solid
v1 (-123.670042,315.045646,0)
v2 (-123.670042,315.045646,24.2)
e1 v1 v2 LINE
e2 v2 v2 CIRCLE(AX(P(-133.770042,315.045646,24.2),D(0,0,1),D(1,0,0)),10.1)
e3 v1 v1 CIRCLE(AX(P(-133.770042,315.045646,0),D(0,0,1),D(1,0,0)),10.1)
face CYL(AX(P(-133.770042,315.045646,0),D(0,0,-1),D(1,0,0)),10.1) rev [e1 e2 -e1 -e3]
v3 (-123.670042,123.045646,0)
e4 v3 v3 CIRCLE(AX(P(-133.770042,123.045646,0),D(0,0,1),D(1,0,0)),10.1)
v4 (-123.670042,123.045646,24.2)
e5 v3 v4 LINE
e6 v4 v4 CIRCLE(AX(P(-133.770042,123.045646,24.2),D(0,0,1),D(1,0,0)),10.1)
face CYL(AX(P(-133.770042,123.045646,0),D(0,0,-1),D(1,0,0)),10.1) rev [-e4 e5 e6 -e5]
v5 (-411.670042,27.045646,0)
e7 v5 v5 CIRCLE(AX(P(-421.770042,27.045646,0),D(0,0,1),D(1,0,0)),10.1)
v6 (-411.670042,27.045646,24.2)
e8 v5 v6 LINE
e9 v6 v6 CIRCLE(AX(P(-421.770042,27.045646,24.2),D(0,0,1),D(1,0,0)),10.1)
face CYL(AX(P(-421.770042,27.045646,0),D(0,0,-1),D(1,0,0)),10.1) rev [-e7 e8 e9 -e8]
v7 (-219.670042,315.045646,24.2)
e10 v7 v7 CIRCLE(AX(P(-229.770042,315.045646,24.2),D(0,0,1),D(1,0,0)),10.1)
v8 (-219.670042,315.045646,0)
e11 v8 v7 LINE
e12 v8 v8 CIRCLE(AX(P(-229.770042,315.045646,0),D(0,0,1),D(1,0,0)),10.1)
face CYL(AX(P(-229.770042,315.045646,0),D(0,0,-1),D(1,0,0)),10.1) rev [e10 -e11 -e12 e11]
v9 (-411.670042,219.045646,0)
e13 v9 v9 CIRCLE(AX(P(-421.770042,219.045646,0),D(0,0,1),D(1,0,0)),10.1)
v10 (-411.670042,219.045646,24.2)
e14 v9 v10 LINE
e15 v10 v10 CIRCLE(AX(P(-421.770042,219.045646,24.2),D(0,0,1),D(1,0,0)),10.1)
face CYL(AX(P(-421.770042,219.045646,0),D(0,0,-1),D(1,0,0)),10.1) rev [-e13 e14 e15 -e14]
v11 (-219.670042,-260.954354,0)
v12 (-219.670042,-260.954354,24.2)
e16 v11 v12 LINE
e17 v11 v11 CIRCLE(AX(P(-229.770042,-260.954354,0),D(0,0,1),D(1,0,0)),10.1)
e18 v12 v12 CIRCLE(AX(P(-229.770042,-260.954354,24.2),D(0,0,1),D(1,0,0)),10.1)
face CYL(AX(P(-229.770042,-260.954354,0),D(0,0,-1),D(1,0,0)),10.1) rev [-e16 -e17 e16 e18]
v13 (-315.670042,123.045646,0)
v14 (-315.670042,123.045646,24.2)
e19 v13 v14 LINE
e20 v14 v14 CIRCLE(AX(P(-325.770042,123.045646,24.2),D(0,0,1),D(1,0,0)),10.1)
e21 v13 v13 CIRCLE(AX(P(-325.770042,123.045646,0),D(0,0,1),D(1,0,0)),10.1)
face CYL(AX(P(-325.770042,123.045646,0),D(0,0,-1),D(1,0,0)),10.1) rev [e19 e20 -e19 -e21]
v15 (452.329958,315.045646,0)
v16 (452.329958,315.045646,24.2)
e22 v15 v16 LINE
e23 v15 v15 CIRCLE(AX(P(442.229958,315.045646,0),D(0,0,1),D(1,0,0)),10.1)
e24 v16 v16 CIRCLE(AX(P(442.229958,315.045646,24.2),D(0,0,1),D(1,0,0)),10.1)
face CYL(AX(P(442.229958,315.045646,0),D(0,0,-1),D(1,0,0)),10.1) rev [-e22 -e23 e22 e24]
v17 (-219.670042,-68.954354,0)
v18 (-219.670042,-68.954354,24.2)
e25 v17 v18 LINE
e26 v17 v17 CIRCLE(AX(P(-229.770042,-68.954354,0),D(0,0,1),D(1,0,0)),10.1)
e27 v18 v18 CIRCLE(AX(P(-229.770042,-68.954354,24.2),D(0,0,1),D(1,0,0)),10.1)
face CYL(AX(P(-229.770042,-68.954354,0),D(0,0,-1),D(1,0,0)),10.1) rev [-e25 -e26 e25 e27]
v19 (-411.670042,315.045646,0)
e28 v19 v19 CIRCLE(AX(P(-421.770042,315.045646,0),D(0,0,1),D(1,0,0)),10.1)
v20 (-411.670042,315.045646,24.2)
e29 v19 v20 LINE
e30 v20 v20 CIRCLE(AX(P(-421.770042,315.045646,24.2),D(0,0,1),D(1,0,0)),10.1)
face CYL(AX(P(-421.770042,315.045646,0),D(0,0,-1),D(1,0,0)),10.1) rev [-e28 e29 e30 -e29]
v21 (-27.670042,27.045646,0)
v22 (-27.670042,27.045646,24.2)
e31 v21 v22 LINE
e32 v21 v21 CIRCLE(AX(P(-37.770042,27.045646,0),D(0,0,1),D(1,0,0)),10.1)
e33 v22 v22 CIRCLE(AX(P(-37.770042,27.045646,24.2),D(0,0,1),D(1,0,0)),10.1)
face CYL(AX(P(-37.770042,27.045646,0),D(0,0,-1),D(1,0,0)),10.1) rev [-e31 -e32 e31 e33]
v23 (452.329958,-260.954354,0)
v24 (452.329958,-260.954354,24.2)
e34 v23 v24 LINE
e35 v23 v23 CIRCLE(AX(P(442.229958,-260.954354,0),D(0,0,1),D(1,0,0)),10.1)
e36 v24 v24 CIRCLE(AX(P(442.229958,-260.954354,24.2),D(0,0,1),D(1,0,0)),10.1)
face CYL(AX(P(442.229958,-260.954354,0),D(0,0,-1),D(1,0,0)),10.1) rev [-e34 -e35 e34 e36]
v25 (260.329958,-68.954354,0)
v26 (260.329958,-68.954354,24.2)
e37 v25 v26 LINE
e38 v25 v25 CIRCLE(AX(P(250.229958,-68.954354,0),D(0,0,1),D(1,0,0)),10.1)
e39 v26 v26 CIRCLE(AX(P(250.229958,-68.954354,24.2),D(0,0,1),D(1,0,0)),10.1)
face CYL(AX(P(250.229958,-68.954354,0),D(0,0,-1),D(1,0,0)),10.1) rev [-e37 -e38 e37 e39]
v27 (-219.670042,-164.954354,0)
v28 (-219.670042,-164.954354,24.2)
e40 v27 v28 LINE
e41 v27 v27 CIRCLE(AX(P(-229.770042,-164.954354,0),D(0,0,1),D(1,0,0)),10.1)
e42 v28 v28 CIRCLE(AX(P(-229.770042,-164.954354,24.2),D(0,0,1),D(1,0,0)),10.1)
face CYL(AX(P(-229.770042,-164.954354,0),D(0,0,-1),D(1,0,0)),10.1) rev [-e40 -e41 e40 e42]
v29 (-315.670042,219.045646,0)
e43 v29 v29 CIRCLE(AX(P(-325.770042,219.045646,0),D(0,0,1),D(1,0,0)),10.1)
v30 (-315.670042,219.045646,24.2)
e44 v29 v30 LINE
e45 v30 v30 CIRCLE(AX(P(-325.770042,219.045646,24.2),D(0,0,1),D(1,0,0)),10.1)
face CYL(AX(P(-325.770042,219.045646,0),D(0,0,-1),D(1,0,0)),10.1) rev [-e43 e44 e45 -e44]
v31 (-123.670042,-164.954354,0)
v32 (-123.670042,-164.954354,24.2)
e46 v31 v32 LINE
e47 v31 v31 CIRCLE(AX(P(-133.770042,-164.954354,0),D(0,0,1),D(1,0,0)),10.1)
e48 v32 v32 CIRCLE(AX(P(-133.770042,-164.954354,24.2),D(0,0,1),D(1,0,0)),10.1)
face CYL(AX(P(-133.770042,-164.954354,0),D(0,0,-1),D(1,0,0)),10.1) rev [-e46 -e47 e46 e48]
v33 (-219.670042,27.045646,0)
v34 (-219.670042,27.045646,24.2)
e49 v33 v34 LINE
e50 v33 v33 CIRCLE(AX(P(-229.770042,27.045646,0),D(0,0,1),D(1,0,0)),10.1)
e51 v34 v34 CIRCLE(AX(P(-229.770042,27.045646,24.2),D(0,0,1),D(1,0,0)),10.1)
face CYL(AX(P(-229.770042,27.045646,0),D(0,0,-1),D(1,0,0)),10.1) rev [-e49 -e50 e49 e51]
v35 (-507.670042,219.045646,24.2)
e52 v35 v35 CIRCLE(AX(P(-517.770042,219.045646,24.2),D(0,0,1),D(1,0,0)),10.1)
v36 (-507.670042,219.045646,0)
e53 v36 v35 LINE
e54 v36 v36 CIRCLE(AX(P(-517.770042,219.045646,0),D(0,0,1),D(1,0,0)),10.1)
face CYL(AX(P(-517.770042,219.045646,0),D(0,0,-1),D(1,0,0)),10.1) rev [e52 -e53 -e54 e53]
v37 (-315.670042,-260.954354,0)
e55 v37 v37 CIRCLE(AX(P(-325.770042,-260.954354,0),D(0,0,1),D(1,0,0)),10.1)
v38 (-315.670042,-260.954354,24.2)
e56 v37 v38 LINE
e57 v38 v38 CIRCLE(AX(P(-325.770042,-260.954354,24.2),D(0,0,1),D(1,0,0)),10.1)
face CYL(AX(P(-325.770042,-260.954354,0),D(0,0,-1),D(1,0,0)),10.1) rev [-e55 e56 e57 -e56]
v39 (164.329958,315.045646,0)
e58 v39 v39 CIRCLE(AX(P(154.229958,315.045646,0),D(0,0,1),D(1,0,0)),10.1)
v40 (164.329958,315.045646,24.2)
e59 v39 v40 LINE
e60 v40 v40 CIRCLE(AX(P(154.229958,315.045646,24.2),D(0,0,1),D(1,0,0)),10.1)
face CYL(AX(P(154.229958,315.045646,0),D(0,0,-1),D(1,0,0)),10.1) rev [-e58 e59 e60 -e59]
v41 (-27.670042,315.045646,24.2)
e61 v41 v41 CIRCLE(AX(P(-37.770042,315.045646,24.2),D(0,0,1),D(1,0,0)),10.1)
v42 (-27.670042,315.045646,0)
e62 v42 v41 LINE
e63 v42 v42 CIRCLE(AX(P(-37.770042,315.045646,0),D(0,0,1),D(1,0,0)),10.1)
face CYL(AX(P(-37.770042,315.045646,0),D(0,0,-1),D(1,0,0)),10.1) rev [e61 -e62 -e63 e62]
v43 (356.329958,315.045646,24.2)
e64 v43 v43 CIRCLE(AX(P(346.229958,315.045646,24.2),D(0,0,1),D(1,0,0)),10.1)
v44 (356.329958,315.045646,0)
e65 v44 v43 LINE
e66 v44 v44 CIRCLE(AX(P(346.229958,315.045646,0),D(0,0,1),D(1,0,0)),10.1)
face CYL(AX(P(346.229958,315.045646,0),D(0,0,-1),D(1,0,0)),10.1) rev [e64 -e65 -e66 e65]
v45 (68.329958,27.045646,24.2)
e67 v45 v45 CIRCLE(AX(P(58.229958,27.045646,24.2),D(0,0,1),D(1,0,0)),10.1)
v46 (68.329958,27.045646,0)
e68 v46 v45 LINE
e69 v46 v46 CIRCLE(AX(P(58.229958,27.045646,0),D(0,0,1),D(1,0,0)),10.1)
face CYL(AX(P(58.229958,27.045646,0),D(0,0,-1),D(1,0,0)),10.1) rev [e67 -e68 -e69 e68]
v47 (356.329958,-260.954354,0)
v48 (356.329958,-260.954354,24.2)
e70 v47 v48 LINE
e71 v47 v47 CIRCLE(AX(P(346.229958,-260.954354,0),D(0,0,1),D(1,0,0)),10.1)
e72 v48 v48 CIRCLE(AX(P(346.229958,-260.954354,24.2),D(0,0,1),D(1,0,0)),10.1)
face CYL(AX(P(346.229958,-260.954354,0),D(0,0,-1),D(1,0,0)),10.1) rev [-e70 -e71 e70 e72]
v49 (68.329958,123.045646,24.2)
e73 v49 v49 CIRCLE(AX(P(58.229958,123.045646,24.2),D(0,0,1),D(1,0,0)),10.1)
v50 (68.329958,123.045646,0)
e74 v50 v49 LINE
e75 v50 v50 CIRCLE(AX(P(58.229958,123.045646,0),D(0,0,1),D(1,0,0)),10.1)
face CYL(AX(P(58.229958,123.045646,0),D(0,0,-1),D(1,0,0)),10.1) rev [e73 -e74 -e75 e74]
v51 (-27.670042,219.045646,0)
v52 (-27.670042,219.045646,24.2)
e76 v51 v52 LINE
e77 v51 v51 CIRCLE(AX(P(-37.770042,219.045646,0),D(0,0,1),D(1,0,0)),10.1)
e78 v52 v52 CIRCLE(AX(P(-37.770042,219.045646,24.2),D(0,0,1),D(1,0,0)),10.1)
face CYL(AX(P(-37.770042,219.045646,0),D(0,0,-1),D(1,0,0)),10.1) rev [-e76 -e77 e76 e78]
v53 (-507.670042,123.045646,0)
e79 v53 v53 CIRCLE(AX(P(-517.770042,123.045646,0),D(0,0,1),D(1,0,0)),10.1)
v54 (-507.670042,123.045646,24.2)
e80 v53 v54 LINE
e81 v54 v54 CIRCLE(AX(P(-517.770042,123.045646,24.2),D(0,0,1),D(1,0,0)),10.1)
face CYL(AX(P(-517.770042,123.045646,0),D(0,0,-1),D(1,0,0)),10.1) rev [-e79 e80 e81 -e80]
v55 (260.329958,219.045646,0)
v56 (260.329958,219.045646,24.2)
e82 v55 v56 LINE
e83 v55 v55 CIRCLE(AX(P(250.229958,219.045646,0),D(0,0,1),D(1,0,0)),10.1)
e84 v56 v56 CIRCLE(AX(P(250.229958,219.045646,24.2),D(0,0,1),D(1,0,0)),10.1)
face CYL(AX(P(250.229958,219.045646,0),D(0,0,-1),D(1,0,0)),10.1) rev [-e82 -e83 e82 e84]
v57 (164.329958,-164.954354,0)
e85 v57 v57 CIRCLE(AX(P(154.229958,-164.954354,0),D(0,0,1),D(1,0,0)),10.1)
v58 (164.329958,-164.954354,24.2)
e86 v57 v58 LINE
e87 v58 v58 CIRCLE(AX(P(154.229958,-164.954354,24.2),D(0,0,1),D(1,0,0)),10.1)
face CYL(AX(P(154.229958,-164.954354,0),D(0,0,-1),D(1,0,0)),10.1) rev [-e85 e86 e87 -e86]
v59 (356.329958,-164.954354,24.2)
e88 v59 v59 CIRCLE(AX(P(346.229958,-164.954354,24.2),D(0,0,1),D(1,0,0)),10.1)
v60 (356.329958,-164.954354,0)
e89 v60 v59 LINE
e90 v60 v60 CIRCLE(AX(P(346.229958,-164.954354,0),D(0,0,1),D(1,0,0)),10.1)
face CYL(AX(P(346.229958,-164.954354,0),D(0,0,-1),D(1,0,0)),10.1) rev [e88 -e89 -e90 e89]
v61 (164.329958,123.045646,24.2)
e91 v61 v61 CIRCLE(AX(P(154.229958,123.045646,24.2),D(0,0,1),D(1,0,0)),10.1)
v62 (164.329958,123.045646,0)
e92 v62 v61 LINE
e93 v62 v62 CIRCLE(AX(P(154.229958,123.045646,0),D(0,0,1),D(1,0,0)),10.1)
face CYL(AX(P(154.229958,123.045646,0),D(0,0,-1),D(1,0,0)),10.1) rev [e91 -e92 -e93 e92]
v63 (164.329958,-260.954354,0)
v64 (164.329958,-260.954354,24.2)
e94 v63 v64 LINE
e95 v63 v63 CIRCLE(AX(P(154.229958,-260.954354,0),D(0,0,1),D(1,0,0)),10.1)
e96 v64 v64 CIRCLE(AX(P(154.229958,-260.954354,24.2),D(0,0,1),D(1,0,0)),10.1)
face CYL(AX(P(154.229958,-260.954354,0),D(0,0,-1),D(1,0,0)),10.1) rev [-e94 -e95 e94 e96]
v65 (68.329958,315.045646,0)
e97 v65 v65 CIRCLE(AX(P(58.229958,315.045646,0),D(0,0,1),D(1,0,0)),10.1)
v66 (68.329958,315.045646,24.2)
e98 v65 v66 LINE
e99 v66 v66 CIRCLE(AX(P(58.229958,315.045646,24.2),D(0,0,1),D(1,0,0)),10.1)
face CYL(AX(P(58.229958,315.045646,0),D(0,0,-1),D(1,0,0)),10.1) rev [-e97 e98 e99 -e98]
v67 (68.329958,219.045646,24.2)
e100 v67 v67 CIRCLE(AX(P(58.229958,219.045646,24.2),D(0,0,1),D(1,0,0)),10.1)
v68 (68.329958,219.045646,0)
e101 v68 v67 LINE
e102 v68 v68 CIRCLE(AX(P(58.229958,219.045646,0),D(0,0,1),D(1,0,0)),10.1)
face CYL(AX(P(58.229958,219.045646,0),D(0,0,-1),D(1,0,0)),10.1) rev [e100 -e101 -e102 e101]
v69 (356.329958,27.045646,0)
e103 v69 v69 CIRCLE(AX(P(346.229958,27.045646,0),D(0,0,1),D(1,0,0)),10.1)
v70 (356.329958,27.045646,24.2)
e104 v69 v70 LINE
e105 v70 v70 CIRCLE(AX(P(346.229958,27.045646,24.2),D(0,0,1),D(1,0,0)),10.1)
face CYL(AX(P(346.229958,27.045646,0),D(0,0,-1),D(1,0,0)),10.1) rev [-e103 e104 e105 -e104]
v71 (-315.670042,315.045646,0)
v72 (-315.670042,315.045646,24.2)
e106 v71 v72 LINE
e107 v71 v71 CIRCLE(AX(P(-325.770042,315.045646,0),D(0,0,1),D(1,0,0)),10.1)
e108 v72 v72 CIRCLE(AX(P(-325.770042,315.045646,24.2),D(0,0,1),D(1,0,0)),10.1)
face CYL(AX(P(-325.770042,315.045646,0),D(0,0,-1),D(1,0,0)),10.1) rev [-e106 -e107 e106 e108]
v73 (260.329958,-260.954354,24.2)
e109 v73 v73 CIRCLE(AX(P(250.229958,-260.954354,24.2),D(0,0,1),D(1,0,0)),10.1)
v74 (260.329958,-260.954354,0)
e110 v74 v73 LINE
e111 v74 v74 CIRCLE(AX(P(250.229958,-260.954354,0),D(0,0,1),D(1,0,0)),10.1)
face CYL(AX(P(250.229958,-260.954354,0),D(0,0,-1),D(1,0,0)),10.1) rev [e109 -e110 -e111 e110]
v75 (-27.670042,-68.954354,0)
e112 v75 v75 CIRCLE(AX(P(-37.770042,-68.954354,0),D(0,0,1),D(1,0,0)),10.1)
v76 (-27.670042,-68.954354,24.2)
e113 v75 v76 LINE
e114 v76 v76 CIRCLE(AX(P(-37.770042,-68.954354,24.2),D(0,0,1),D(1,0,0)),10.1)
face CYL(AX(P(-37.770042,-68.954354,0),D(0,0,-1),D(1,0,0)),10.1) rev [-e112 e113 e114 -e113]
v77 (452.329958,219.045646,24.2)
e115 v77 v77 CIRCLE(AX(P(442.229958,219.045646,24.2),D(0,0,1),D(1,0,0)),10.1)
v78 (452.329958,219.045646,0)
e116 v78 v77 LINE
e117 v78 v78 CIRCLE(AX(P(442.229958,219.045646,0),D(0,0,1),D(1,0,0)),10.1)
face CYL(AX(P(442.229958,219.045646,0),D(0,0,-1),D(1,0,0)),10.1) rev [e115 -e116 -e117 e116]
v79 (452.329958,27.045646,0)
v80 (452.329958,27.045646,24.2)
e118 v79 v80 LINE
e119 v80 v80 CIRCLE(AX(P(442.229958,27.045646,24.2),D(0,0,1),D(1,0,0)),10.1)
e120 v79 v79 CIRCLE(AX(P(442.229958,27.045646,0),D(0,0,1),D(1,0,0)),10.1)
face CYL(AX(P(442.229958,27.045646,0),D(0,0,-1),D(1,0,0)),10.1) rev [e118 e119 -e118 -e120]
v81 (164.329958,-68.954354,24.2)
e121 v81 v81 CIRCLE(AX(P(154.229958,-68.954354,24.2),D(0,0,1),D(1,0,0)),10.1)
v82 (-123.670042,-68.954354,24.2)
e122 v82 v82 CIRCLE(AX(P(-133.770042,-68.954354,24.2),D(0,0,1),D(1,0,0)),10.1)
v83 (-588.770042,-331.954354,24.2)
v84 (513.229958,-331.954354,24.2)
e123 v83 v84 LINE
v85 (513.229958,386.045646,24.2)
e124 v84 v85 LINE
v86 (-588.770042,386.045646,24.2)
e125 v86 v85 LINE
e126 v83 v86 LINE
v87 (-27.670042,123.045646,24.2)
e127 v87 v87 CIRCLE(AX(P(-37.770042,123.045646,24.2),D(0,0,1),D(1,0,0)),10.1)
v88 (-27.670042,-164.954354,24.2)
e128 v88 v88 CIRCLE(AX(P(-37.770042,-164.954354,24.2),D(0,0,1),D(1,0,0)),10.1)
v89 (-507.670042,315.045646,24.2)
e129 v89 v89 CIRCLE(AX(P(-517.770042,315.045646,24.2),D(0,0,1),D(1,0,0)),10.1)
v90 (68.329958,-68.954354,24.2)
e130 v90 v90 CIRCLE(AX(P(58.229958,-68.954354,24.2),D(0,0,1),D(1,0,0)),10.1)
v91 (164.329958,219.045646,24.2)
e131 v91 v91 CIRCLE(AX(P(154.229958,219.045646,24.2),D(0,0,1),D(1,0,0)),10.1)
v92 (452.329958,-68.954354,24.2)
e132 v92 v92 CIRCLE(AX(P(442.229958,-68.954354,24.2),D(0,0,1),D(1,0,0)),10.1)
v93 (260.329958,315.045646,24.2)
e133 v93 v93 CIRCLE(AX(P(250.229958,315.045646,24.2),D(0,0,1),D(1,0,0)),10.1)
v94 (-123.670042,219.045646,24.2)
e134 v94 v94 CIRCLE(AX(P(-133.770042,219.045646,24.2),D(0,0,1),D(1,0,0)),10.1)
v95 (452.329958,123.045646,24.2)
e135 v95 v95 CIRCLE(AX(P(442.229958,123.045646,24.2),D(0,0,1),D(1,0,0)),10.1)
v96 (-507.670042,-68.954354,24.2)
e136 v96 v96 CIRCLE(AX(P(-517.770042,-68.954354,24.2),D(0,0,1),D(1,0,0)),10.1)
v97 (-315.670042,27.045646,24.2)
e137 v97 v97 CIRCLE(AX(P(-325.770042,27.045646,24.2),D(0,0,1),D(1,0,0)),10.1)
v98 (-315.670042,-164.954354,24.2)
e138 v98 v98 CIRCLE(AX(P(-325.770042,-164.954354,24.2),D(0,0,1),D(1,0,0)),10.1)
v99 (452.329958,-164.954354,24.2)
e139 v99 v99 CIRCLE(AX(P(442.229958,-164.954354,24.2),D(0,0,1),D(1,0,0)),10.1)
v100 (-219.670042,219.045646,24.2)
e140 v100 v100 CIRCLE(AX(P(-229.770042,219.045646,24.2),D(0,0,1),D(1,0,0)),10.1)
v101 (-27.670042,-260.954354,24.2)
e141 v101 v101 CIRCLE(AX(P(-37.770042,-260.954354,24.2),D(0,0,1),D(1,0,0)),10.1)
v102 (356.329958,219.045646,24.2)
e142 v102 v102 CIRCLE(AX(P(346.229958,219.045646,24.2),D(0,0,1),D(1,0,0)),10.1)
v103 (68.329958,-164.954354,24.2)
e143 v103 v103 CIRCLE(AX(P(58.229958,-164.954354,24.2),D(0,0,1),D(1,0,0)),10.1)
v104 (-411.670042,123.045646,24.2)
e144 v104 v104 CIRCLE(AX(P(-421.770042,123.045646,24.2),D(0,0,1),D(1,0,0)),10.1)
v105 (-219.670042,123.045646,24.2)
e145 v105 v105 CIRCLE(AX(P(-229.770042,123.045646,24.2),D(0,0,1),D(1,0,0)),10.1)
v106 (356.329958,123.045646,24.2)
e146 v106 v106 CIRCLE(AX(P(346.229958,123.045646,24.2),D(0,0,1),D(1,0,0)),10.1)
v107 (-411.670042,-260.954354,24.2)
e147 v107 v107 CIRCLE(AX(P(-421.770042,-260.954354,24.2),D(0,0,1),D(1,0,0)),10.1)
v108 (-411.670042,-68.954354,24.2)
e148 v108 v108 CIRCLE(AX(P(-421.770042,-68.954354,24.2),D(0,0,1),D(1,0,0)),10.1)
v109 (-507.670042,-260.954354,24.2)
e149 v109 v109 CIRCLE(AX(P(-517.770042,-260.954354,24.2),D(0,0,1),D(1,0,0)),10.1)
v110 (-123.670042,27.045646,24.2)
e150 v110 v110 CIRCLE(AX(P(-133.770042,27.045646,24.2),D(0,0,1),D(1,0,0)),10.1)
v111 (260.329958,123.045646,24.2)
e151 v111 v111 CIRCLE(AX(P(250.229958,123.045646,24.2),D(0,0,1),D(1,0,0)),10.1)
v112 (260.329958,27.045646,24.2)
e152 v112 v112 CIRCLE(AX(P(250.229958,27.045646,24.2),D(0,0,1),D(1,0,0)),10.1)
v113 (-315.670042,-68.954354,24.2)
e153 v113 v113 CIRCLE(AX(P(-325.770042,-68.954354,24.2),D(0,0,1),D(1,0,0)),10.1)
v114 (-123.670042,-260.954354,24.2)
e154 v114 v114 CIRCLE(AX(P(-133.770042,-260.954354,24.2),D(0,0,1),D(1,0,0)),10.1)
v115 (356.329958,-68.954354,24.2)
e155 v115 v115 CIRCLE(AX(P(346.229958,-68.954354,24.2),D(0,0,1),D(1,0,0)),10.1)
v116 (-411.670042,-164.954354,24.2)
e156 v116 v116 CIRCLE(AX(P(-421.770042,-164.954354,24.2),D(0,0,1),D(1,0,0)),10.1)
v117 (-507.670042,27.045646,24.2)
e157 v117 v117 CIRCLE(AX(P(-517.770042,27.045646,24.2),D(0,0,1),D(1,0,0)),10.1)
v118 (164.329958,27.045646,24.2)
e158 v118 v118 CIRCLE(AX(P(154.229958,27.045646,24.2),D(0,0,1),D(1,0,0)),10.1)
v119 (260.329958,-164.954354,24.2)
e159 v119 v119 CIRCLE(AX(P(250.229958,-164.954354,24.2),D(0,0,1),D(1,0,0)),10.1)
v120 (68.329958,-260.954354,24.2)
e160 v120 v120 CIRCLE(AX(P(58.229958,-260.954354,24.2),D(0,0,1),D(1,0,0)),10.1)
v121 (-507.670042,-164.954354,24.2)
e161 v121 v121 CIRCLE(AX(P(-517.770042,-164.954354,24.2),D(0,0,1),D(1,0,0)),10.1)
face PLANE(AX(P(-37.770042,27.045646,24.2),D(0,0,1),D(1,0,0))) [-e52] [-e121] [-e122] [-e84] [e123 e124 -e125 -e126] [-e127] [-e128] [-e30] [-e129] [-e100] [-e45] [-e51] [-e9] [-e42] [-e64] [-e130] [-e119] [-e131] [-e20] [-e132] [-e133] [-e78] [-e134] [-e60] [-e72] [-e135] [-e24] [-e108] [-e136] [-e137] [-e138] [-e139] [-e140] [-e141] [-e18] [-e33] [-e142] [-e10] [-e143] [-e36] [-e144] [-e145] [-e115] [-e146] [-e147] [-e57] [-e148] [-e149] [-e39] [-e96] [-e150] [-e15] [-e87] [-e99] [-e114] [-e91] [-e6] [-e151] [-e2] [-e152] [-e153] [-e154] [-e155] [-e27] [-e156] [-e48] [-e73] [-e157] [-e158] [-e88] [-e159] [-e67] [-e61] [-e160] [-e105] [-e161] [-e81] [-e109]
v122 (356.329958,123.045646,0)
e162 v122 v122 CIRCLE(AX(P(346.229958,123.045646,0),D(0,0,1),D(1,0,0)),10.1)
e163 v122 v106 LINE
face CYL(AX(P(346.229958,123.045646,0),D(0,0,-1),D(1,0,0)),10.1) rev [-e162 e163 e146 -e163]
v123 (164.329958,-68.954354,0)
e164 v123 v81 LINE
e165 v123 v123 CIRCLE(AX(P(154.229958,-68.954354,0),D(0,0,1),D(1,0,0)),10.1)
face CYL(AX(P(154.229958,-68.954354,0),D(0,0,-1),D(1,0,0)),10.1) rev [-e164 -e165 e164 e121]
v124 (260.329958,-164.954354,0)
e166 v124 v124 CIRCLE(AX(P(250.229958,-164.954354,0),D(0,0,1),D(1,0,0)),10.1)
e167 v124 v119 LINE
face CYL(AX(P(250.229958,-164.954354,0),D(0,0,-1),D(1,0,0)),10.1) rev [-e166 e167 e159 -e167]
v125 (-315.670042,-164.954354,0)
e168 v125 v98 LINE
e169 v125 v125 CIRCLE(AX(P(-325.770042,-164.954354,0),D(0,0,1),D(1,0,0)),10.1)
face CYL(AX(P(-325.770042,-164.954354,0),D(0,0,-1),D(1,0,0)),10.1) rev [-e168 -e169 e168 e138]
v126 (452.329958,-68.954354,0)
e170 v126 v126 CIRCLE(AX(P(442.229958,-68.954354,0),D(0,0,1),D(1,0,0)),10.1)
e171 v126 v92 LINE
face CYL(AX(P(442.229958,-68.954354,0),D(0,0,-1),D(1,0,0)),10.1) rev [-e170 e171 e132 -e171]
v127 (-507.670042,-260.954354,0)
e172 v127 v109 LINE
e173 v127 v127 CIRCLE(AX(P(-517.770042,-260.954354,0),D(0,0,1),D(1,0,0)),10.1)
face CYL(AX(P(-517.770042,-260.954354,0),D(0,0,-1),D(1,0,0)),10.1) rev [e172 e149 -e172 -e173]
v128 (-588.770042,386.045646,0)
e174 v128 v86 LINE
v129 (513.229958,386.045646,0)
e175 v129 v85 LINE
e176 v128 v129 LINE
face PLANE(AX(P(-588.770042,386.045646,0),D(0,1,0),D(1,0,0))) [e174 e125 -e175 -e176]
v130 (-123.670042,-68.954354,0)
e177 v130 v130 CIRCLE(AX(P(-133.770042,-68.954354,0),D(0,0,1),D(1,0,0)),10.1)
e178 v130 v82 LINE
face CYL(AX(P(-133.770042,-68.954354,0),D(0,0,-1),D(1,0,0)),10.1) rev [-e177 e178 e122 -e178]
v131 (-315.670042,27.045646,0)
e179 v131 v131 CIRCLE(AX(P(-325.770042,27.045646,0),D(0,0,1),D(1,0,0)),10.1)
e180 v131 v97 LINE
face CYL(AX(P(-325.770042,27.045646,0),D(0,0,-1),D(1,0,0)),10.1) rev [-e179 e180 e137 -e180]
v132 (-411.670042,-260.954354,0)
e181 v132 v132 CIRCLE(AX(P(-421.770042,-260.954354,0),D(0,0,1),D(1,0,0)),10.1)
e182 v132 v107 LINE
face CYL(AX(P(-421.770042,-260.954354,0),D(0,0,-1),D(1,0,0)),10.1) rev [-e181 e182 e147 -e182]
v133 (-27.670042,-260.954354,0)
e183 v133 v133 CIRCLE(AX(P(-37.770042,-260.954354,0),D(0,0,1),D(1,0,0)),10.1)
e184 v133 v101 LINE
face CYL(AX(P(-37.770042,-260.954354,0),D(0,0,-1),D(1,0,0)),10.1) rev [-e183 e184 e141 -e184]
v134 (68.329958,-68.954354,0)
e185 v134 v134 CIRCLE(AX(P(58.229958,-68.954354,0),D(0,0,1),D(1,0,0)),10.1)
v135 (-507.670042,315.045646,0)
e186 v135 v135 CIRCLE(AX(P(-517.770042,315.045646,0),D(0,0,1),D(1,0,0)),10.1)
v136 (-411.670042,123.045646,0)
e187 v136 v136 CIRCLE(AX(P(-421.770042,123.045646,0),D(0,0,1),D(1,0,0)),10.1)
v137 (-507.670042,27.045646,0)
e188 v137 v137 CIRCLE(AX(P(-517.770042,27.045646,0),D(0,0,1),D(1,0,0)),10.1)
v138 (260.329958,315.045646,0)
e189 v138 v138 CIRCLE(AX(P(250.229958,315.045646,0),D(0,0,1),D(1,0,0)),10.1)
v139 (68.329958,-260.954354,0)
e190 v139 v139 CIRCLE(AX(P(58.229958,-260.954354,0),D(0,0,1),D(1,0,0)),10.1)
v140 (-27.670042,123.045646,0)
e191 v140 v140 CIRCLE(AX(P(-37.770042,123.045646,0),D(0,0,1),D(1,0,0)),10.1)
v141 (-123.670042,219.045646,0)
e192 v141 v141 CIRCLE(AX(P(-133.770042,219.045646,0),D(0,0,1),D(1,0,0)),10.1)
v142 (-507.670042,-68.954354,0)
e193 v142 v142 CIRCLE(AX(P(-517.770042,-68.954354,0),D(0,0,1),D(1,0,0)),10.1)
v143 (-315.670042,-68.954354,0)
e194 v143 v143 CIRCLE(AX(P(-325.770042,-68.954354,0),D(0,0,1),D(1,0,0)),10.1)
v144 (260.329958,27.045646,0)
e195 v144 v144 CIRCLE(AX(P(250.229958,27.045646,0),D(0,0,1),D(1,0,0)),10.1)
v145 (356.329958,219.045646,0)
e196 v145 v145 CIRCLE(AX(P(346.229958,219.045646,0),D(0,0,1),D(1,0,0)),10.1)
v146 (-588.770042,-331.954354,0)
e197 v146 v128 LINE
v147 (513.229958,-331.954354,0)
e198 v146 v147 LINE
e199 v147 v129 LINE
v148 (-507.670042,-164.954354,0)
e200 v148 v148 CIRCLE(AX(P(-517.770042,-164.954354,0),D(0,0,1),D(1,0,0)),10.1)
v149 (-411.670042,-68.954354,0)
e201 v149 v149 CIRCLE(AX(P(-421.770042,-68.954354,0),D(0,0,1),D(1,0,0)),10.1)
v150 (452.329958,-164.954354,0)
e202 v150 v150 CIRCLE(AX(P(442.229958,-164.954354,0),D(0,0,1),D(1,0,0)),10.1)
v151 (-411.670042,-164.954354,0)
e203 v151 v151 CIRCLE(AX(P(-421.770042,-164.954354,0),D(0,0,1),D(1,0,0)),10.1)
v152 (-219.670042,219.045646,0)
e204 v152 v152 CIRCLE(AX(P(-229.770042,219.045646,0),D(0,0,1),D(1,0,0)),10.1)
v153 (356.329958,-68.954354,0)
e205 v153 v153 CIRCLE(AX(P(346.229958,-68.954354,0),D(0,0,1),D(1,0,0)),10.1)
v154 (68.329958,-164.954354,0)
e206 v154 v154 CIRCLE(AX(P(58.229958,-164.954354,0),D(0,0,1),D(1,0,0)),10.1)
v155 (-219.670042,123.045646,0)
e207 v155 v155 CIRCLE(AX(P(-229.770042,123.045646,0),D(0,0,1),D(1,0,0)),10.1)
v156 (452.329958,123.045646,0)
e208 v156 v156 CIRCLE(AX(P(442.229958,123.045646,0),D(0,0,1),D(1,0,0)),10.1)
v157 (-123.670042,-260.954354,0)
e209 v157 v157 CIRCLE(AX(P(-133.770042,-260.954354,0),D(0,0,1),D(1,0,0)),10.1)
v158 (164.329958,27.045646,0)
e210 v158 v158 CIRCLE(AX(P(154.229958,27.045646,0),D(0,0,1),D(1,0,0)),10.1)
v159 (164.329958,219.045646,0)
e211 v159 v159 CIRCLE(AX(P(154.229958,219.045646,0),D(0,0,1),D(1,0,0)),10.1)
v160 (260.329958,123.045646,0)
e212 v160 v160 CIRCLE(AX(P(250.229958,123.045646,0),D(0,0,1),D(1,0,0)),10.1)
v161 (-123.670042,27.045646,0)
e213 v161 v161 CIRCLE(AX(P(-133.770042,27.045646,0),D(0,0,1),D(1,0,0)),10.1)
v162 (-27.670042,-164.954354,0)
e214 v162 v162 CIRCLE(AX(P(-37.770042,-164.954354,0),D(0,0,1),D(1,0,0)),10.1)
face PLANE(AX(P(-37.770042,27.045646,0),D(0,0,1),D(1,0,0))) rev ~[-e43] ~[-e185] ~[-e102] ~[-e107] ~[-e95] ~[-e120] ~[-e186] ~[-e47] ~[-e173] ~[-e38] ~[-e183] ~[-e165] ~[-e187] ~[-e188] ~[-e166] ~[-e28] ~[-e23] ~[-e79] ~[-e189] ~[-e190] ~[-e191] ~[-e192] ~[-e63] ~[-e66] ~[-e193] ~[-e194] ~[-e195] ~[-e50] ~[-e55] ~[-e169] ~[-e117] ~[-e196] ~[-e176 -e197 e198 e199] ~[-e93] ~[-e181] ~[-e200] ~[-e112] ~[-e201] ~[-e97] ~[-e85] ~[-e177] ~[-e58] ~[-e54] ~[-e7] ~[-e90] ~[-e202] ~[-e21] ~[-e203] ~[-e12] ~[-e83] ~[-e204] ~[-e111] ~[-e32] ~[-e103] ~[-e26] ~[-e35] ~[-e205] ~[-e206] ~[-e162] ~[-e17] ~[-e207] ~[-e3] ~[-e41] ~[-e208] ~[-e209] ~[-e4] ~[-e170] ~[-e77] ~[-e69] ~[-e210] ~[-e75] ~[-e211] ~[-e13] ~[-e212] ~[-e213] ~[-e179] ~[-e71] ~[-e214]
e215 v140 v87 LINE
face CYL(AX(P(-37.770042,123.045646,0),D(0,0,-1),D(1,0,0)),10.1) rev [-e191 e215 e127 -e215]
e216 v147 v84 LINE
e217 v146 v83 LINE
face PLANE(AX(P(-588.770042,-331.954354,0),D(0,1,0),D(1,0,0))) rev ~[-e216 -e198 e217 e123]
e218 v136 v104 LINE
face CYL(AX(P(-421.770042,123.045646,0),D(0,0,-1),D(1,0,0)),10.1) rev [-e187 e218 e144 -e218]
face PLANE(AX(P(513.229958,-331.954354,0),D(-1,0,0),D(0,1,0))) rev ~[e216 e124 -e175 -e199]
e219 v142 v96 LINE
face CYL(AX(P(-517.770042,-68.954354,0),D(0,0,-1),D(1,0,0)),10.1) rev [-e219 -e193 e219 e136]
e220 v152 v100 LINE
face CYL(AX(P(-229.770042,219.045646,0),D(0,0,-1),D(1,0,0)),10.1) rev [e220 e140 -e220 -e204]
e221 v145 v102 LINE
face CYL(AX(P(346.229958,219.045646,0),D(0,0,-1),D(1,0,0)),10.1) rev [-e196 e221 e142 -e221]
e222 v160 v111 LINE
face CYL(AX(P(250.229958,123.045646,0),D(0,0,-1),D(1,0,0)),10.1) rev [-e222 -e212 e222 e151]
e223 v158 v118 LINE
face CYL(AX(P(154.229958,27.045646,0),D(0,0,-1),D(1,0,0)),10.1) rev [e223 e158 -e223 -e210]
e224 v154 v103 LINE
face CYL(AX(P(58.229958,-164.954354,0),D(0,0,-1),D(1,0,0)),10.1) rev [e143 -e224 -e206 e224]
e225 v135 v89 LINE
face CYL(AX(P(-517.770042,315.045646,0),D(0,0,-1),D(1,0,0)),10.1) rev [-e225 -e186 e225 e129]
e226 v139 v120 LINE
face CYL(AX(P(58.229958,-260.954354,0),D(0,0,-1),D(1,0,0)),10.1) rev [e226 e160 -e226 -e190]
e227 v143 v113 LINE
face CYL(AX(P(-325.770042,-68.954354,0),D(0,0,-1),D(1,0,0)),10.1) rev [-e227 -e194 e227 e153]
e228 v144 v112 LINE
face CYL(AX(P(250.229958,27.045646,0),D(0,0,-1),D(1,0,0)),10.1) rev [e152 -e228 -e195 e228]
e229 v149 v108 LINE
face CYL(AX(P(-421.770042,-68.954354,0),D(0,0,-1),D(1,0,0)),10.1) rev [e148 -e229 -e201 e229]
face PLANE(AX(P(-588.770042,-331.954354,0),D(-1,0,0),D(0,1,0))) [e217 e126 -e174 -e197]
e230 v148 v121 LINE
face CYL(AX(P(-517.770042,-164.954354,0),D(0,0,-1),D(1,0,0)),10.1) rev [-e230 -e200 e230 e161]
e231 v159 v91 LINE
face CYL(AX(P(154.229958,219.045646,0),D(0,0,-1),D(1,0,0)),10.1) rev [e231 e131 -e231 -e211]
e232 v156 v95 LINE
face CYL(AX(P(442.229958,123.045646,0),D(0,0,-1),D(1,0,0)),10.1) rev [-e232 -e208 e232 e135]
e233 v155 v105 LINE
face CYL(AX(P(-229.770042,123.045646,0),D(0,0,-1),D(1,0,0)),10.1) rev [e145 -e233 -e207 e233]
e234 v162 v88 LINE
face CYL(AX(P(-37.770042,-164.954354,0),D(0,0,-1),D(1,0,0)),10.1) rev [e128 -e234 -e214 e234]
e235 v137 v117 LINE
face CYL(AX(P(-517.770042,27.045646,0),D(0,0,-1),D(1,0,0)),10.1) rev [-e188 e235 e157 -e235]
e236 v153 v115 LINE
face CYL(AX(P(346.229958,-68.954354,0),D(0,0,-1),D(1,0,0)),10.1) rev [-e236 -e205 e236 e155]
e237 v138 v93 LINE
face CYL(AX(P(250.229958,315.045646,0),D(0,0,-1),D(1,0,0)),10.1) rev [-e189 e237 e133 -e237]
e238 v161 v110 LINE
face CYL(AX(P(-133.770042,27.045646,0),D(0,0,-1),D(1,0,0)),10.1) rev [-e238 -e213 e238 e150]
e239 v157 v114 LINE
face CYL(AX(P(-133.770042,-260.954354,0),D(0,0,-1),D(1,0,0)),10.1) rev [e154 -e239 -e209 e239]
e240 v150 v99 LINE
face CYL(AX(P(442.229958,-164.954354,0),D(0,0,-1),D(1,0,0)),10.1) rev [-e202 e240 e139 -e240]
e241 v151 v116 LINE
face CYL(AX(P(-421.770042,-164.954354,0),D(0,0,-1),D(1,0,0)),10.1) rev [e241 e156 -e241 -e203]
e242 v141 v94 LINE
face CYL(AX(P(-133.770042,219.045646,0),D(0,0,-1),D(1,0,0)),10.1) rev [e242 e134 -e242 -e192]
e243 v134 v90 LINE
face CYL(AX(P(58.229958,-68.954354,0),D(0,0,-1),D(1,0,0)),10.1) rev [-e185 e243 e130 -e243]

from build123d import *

# Parameters (mm, degrees)
F0_W     = 1102
F0_H     = 718
F0_R     = 10.1
F1_DEPTH = 24.2


with BuildPart() as f1:
    # F0 (on Top) → F1 (new body)
    with BuildSketch(Plane.XY):
        with Locations((-37.770042, 27.045646)):
            Rectangle(F0_W, F0_H)
        with Locations((-517.770042, -260.954354)):
            Circle(F0_R, mode=Mode.SUBTRACT)
        with Locations((-421.770042, -260.954354)):
            Circle(F0_R, mode=Mode.SUBTRACT)
        with Locations((-325.770042, -260.954354)):
            Circle(F0_R, mode=Mode.SUBTRACT)
        with Locations((-517.770042, -164.954354)):
            Circle(F0_R, mode=Mode.SUBTRACT)
        with Locations((-421.770042, -164.954354)):
            Circle(F0_R, mode=Mode.SUBTRACT)
        with Locations((-325.770042, -164.954354)):
            Circle(F0_R, mode=Mode.SUBTRACT)
        with Locations((-229.770042, -260.954354)):
            Circle(F0_R, mode=Mode.SUBTRACT)
        with Locations((-133.770042, -260.954354)):
            Circle(F0_R, mode=Mode.SUBTRACT)
        with Locations((-37.770042, -260.954354)):
            Circle(F0_R, mode=Mode.SUBTRACT)
        with Locations((-229.770042, -164.954354)):
            Circle(F0_R, mode=Mode.SUBTRACT)
        with Locations((-133.770042, -164.954354)):
            Circle(F0_R, mode=Mode.SUBTRACT)
        with Locations((-37.770042, -164.954354)):
            Circle(F0_R, mode=Mode.SUBTRACT)
        with Locations((-517.770042, -68.954354)):
            Circle(F0_R, mode=Mode.SUBTRACT)
        with Locations((-421.770042, -68.954354)):
            Circle(F0_R, mode=Mode.SUBTRACT)
        with Locations((-325.770042, -68.954354)):
            Circle(F0_R, mode=Mode.SUBTRACT)
        with Locations((-229.770042, -68.954354)):
            Circle(F0_R, mode=Mode.SUBTRACT)
        with Locations((-133.770042, -68.954354)):
            Circle(F0_R, mode=Mode.SUBTRACT)
        with Locations((-37.770042, -68.954354)):
            Circle(F0_R, mode=Mode.SUBTRACT)
        with Locations((58.229958, -260.954354)):
            Circle(F0_R, mode=Mode.SUBTRACT)
        with Locations((154.229958, -260.954354)):
            Circle(F0_R, mode=Mode.SUBTRACT)
        with Locations((58.229958, -164.954354)):
            Circle(F0_R, mode=Mode.SUBTRACT)
        with Locations((154.229958, -164.954354)):
            Circle(F0_R, mode=Mode.SUBTRACT)
        with Locations((250.229958, -260.954354)):
            Circle(F0_R, mode=Mode.SUBTRACT)
        with Locations((346.229958, -260.954354)):
            Circle(F0_R, mode=Mode.SUBTRACT)
        with Locations((442.229958, -260.954354)):
            Circle(F0_R, mode=Mode.SUBTRACT)
        with Locations((250.229958, -164.954354)):
            Circle(F0_R, mode=Mode.SUBTRACT)
        with Locations((346.229958, -164.954354)):
            Circle(F0_R, mode=Mode.SUBTRACT)
        with Locations((442.229958, -164.954354)):
            Circle(F0_R, mode=Mode.SUBTRACT)
        with Locations((58.229958, -68.954354)):
            Circle(F0_R, mode=Mode.SUBTRACT)
        with Locations((154.229958, -68.954354)):
            Circle(F0_R, mode=Mode.SUBTRACT)
        with Locations((250.229958, -68.954354)):
            Circle(F0_R, mode=Mode.SUBTRACT)
        with Locations((346.229958, -68.954354)):
            Circle(F0_R, mode=Mode.SUBTRACT)
        with Locations((442.229958, -68.954354)):
            Circle(F0_R, mode=Mode.SUBTRACT)
        with Locations((-517.770042, 27.045646)):
            Circle(F0_R, mode=Mode.SUBTRACT)
        with Locations((-421.770042, 27.045646)):
            Circle(F0_R, mode=Mode.SUBTRACT)
        with Locations((-325.770042, 27.045646)):
            Circle(F0_R, mode=Mode.SUBTRACT)
        with Locations((-517.770042, 123.045646)):
            Circle(F0_R, mode=Mode.SUBTRACT)
        with Locations((-421.770042, 123.045646)):
            Circle(F0_R, mode=Mode.SUBTRACT)
        with Locations((-325.770042, 123.045646)):
            Circle(F0_R, mode=Mode.SUBTRACT)
        with Locations((-229.770042, 27.045646)):
            Circle(F0_R, mode=Mode.SUBTRACT)
        with Locations((-133.770042, 27.045646)):
            Circle(F0_R, mode=Mode.SUBTRACT)
        with Locations((-37.770042, 27.045646)):
            Circle(F0_R, mode=Mode.SUBTRACT)
        with Locations((-229.770042, 123.045646)):
            Circle(F0_R, mode=Mode.SUBTRACT)
        with Locations((-133.770042, 123.045646)):
            Circle(F0_R, mode=Mode.SUBTRACT)
        with Locations((-37.770042, 123.045646)):
            Circle(F0_R, mode=Mode.SUBTRACT)
        with Locations((-517.770042, 219.045646)):
            Circle(F0_R, mode=Mode.SUBTRACT)
        with Locations((-421.770042, 219.045646)):
            Circle(F0_R, mode=Mode.SUBTRACT)
        with Locations((-325.770042, 219.045646)):
            Circle(F0_R, mode=Mode.SUBTRACT)
        with Locations((-517.770042, 315.045646)):
            Circle(F0_R, mode=Mode.SUBTRACT)
        with Locations((-421.770042, 315.045646)):
            Circle(F0_R, mode=Mode.SUBTRACT)
        with Locations((-325.770042, 315.045646)):
            Circle(F0_R, mode=Mode.SUBTRACT)
        with Locations((-229.770042, 219.045646)):
            Circle(F0_R, mode=Mode.SUBTRACT)
        with Locations((-133.770042, 219.045646)):
            Circle(F0_R, mode=Mode.SUBTRACT)
        with Locations((-37.770042, 219.045646)):
            Circle(F0_R, mode=Mode.SUBTRACT)
        with Locations((-229.770042, 315.045646)):
            Circle(F0_R, mode=Mode.SUBTRACT)
        with Locations((-133.770042, 315.045646)):
            Circle(F0_R, mode=Mode.SUBTRACT)
        with Locations((-37.770042, 315.045646)):
            Circle(F0_R, mode=Mode.SUBTRACT)
        with Locations((58.229958, 27.045646)):
            Circle(F0_R, mode=Mode.SUBTRACT)
        with Locations((154.229958, 27.045646)):
            Circle(F0_R, mode=Mode.SUBTRACT)
        with Locations((58.229958, 123.045646)):
            Circle(F0_R, mode=Mode.SUBTRACT)
        with Locations((154.229958, 123.045646)):
            Circle(F0_R, mode=Mode.SUBTRACT)
        with Locations((250.229958, 27.045646)):
            Circle(F0_R, mode=Mode.SUBTRACT)
        with Locations((346.229958, 27.045646)):
            Circle(F0_R, mode=Mode.SUBTRACT)
        with Locations((442.229958, 27.045646)):
            Circle(F0_R, mode=Mode.SUBTRACT)
        with Locations((250.229958, 123.045646)):
            Circle(F0_R, mode=Mode.SUBTRACT)
        with Locations((346.229958, 123.045646)):
            Circle(F0_R, mode=Mode.SUBTRACT)
        with Locations((442.229958, 123.045646)):
            Circle(F0_R, mode=Mode.SUBTRACT)
        with Locations((58.229958, 219.045646)):
            Circle(F0_R, mode=Mode.SUBTRACT)
        with Locations((154.229958, 219.045646)):
            Circle(F0_R, mode=Mode.SUBTRACT)
        with Locations((58.229958, 315.045646)):
            Circle(F0_R, mode=Mode.SUBTRACT)
        with Locations((154.229958, 315.045646)):
            Circle(F0_R, mode=Mode.SUBTRACT)
        with Locations((250.229958, 219.045646)):
            Circle(F0_R, mode=Mode.SUBTRACT)
        with Locations((346.229958, 219.045646)):
            Circle(F0_R, mode=Mode.SUBTRACT)
        with Locations((442.229958, 219.045646)):
            Circle(F0_R, mode=Mode.SUBTRACT)
        with Locations((250.229958, 315.045646)):
            Circle(F0_R, mode=Mode.SUBTRACT)
        with Locations((346.229958, 315.045646)):
            Circle(F0_R, mode=Mode.SUBTRACT)
        with Locations((442.229958, 315.045646)):
            Circle(F0_R, mode=Mode.SUBTRACT)
    extrude(amount=F1_DEPTH)


solid = f1.part
